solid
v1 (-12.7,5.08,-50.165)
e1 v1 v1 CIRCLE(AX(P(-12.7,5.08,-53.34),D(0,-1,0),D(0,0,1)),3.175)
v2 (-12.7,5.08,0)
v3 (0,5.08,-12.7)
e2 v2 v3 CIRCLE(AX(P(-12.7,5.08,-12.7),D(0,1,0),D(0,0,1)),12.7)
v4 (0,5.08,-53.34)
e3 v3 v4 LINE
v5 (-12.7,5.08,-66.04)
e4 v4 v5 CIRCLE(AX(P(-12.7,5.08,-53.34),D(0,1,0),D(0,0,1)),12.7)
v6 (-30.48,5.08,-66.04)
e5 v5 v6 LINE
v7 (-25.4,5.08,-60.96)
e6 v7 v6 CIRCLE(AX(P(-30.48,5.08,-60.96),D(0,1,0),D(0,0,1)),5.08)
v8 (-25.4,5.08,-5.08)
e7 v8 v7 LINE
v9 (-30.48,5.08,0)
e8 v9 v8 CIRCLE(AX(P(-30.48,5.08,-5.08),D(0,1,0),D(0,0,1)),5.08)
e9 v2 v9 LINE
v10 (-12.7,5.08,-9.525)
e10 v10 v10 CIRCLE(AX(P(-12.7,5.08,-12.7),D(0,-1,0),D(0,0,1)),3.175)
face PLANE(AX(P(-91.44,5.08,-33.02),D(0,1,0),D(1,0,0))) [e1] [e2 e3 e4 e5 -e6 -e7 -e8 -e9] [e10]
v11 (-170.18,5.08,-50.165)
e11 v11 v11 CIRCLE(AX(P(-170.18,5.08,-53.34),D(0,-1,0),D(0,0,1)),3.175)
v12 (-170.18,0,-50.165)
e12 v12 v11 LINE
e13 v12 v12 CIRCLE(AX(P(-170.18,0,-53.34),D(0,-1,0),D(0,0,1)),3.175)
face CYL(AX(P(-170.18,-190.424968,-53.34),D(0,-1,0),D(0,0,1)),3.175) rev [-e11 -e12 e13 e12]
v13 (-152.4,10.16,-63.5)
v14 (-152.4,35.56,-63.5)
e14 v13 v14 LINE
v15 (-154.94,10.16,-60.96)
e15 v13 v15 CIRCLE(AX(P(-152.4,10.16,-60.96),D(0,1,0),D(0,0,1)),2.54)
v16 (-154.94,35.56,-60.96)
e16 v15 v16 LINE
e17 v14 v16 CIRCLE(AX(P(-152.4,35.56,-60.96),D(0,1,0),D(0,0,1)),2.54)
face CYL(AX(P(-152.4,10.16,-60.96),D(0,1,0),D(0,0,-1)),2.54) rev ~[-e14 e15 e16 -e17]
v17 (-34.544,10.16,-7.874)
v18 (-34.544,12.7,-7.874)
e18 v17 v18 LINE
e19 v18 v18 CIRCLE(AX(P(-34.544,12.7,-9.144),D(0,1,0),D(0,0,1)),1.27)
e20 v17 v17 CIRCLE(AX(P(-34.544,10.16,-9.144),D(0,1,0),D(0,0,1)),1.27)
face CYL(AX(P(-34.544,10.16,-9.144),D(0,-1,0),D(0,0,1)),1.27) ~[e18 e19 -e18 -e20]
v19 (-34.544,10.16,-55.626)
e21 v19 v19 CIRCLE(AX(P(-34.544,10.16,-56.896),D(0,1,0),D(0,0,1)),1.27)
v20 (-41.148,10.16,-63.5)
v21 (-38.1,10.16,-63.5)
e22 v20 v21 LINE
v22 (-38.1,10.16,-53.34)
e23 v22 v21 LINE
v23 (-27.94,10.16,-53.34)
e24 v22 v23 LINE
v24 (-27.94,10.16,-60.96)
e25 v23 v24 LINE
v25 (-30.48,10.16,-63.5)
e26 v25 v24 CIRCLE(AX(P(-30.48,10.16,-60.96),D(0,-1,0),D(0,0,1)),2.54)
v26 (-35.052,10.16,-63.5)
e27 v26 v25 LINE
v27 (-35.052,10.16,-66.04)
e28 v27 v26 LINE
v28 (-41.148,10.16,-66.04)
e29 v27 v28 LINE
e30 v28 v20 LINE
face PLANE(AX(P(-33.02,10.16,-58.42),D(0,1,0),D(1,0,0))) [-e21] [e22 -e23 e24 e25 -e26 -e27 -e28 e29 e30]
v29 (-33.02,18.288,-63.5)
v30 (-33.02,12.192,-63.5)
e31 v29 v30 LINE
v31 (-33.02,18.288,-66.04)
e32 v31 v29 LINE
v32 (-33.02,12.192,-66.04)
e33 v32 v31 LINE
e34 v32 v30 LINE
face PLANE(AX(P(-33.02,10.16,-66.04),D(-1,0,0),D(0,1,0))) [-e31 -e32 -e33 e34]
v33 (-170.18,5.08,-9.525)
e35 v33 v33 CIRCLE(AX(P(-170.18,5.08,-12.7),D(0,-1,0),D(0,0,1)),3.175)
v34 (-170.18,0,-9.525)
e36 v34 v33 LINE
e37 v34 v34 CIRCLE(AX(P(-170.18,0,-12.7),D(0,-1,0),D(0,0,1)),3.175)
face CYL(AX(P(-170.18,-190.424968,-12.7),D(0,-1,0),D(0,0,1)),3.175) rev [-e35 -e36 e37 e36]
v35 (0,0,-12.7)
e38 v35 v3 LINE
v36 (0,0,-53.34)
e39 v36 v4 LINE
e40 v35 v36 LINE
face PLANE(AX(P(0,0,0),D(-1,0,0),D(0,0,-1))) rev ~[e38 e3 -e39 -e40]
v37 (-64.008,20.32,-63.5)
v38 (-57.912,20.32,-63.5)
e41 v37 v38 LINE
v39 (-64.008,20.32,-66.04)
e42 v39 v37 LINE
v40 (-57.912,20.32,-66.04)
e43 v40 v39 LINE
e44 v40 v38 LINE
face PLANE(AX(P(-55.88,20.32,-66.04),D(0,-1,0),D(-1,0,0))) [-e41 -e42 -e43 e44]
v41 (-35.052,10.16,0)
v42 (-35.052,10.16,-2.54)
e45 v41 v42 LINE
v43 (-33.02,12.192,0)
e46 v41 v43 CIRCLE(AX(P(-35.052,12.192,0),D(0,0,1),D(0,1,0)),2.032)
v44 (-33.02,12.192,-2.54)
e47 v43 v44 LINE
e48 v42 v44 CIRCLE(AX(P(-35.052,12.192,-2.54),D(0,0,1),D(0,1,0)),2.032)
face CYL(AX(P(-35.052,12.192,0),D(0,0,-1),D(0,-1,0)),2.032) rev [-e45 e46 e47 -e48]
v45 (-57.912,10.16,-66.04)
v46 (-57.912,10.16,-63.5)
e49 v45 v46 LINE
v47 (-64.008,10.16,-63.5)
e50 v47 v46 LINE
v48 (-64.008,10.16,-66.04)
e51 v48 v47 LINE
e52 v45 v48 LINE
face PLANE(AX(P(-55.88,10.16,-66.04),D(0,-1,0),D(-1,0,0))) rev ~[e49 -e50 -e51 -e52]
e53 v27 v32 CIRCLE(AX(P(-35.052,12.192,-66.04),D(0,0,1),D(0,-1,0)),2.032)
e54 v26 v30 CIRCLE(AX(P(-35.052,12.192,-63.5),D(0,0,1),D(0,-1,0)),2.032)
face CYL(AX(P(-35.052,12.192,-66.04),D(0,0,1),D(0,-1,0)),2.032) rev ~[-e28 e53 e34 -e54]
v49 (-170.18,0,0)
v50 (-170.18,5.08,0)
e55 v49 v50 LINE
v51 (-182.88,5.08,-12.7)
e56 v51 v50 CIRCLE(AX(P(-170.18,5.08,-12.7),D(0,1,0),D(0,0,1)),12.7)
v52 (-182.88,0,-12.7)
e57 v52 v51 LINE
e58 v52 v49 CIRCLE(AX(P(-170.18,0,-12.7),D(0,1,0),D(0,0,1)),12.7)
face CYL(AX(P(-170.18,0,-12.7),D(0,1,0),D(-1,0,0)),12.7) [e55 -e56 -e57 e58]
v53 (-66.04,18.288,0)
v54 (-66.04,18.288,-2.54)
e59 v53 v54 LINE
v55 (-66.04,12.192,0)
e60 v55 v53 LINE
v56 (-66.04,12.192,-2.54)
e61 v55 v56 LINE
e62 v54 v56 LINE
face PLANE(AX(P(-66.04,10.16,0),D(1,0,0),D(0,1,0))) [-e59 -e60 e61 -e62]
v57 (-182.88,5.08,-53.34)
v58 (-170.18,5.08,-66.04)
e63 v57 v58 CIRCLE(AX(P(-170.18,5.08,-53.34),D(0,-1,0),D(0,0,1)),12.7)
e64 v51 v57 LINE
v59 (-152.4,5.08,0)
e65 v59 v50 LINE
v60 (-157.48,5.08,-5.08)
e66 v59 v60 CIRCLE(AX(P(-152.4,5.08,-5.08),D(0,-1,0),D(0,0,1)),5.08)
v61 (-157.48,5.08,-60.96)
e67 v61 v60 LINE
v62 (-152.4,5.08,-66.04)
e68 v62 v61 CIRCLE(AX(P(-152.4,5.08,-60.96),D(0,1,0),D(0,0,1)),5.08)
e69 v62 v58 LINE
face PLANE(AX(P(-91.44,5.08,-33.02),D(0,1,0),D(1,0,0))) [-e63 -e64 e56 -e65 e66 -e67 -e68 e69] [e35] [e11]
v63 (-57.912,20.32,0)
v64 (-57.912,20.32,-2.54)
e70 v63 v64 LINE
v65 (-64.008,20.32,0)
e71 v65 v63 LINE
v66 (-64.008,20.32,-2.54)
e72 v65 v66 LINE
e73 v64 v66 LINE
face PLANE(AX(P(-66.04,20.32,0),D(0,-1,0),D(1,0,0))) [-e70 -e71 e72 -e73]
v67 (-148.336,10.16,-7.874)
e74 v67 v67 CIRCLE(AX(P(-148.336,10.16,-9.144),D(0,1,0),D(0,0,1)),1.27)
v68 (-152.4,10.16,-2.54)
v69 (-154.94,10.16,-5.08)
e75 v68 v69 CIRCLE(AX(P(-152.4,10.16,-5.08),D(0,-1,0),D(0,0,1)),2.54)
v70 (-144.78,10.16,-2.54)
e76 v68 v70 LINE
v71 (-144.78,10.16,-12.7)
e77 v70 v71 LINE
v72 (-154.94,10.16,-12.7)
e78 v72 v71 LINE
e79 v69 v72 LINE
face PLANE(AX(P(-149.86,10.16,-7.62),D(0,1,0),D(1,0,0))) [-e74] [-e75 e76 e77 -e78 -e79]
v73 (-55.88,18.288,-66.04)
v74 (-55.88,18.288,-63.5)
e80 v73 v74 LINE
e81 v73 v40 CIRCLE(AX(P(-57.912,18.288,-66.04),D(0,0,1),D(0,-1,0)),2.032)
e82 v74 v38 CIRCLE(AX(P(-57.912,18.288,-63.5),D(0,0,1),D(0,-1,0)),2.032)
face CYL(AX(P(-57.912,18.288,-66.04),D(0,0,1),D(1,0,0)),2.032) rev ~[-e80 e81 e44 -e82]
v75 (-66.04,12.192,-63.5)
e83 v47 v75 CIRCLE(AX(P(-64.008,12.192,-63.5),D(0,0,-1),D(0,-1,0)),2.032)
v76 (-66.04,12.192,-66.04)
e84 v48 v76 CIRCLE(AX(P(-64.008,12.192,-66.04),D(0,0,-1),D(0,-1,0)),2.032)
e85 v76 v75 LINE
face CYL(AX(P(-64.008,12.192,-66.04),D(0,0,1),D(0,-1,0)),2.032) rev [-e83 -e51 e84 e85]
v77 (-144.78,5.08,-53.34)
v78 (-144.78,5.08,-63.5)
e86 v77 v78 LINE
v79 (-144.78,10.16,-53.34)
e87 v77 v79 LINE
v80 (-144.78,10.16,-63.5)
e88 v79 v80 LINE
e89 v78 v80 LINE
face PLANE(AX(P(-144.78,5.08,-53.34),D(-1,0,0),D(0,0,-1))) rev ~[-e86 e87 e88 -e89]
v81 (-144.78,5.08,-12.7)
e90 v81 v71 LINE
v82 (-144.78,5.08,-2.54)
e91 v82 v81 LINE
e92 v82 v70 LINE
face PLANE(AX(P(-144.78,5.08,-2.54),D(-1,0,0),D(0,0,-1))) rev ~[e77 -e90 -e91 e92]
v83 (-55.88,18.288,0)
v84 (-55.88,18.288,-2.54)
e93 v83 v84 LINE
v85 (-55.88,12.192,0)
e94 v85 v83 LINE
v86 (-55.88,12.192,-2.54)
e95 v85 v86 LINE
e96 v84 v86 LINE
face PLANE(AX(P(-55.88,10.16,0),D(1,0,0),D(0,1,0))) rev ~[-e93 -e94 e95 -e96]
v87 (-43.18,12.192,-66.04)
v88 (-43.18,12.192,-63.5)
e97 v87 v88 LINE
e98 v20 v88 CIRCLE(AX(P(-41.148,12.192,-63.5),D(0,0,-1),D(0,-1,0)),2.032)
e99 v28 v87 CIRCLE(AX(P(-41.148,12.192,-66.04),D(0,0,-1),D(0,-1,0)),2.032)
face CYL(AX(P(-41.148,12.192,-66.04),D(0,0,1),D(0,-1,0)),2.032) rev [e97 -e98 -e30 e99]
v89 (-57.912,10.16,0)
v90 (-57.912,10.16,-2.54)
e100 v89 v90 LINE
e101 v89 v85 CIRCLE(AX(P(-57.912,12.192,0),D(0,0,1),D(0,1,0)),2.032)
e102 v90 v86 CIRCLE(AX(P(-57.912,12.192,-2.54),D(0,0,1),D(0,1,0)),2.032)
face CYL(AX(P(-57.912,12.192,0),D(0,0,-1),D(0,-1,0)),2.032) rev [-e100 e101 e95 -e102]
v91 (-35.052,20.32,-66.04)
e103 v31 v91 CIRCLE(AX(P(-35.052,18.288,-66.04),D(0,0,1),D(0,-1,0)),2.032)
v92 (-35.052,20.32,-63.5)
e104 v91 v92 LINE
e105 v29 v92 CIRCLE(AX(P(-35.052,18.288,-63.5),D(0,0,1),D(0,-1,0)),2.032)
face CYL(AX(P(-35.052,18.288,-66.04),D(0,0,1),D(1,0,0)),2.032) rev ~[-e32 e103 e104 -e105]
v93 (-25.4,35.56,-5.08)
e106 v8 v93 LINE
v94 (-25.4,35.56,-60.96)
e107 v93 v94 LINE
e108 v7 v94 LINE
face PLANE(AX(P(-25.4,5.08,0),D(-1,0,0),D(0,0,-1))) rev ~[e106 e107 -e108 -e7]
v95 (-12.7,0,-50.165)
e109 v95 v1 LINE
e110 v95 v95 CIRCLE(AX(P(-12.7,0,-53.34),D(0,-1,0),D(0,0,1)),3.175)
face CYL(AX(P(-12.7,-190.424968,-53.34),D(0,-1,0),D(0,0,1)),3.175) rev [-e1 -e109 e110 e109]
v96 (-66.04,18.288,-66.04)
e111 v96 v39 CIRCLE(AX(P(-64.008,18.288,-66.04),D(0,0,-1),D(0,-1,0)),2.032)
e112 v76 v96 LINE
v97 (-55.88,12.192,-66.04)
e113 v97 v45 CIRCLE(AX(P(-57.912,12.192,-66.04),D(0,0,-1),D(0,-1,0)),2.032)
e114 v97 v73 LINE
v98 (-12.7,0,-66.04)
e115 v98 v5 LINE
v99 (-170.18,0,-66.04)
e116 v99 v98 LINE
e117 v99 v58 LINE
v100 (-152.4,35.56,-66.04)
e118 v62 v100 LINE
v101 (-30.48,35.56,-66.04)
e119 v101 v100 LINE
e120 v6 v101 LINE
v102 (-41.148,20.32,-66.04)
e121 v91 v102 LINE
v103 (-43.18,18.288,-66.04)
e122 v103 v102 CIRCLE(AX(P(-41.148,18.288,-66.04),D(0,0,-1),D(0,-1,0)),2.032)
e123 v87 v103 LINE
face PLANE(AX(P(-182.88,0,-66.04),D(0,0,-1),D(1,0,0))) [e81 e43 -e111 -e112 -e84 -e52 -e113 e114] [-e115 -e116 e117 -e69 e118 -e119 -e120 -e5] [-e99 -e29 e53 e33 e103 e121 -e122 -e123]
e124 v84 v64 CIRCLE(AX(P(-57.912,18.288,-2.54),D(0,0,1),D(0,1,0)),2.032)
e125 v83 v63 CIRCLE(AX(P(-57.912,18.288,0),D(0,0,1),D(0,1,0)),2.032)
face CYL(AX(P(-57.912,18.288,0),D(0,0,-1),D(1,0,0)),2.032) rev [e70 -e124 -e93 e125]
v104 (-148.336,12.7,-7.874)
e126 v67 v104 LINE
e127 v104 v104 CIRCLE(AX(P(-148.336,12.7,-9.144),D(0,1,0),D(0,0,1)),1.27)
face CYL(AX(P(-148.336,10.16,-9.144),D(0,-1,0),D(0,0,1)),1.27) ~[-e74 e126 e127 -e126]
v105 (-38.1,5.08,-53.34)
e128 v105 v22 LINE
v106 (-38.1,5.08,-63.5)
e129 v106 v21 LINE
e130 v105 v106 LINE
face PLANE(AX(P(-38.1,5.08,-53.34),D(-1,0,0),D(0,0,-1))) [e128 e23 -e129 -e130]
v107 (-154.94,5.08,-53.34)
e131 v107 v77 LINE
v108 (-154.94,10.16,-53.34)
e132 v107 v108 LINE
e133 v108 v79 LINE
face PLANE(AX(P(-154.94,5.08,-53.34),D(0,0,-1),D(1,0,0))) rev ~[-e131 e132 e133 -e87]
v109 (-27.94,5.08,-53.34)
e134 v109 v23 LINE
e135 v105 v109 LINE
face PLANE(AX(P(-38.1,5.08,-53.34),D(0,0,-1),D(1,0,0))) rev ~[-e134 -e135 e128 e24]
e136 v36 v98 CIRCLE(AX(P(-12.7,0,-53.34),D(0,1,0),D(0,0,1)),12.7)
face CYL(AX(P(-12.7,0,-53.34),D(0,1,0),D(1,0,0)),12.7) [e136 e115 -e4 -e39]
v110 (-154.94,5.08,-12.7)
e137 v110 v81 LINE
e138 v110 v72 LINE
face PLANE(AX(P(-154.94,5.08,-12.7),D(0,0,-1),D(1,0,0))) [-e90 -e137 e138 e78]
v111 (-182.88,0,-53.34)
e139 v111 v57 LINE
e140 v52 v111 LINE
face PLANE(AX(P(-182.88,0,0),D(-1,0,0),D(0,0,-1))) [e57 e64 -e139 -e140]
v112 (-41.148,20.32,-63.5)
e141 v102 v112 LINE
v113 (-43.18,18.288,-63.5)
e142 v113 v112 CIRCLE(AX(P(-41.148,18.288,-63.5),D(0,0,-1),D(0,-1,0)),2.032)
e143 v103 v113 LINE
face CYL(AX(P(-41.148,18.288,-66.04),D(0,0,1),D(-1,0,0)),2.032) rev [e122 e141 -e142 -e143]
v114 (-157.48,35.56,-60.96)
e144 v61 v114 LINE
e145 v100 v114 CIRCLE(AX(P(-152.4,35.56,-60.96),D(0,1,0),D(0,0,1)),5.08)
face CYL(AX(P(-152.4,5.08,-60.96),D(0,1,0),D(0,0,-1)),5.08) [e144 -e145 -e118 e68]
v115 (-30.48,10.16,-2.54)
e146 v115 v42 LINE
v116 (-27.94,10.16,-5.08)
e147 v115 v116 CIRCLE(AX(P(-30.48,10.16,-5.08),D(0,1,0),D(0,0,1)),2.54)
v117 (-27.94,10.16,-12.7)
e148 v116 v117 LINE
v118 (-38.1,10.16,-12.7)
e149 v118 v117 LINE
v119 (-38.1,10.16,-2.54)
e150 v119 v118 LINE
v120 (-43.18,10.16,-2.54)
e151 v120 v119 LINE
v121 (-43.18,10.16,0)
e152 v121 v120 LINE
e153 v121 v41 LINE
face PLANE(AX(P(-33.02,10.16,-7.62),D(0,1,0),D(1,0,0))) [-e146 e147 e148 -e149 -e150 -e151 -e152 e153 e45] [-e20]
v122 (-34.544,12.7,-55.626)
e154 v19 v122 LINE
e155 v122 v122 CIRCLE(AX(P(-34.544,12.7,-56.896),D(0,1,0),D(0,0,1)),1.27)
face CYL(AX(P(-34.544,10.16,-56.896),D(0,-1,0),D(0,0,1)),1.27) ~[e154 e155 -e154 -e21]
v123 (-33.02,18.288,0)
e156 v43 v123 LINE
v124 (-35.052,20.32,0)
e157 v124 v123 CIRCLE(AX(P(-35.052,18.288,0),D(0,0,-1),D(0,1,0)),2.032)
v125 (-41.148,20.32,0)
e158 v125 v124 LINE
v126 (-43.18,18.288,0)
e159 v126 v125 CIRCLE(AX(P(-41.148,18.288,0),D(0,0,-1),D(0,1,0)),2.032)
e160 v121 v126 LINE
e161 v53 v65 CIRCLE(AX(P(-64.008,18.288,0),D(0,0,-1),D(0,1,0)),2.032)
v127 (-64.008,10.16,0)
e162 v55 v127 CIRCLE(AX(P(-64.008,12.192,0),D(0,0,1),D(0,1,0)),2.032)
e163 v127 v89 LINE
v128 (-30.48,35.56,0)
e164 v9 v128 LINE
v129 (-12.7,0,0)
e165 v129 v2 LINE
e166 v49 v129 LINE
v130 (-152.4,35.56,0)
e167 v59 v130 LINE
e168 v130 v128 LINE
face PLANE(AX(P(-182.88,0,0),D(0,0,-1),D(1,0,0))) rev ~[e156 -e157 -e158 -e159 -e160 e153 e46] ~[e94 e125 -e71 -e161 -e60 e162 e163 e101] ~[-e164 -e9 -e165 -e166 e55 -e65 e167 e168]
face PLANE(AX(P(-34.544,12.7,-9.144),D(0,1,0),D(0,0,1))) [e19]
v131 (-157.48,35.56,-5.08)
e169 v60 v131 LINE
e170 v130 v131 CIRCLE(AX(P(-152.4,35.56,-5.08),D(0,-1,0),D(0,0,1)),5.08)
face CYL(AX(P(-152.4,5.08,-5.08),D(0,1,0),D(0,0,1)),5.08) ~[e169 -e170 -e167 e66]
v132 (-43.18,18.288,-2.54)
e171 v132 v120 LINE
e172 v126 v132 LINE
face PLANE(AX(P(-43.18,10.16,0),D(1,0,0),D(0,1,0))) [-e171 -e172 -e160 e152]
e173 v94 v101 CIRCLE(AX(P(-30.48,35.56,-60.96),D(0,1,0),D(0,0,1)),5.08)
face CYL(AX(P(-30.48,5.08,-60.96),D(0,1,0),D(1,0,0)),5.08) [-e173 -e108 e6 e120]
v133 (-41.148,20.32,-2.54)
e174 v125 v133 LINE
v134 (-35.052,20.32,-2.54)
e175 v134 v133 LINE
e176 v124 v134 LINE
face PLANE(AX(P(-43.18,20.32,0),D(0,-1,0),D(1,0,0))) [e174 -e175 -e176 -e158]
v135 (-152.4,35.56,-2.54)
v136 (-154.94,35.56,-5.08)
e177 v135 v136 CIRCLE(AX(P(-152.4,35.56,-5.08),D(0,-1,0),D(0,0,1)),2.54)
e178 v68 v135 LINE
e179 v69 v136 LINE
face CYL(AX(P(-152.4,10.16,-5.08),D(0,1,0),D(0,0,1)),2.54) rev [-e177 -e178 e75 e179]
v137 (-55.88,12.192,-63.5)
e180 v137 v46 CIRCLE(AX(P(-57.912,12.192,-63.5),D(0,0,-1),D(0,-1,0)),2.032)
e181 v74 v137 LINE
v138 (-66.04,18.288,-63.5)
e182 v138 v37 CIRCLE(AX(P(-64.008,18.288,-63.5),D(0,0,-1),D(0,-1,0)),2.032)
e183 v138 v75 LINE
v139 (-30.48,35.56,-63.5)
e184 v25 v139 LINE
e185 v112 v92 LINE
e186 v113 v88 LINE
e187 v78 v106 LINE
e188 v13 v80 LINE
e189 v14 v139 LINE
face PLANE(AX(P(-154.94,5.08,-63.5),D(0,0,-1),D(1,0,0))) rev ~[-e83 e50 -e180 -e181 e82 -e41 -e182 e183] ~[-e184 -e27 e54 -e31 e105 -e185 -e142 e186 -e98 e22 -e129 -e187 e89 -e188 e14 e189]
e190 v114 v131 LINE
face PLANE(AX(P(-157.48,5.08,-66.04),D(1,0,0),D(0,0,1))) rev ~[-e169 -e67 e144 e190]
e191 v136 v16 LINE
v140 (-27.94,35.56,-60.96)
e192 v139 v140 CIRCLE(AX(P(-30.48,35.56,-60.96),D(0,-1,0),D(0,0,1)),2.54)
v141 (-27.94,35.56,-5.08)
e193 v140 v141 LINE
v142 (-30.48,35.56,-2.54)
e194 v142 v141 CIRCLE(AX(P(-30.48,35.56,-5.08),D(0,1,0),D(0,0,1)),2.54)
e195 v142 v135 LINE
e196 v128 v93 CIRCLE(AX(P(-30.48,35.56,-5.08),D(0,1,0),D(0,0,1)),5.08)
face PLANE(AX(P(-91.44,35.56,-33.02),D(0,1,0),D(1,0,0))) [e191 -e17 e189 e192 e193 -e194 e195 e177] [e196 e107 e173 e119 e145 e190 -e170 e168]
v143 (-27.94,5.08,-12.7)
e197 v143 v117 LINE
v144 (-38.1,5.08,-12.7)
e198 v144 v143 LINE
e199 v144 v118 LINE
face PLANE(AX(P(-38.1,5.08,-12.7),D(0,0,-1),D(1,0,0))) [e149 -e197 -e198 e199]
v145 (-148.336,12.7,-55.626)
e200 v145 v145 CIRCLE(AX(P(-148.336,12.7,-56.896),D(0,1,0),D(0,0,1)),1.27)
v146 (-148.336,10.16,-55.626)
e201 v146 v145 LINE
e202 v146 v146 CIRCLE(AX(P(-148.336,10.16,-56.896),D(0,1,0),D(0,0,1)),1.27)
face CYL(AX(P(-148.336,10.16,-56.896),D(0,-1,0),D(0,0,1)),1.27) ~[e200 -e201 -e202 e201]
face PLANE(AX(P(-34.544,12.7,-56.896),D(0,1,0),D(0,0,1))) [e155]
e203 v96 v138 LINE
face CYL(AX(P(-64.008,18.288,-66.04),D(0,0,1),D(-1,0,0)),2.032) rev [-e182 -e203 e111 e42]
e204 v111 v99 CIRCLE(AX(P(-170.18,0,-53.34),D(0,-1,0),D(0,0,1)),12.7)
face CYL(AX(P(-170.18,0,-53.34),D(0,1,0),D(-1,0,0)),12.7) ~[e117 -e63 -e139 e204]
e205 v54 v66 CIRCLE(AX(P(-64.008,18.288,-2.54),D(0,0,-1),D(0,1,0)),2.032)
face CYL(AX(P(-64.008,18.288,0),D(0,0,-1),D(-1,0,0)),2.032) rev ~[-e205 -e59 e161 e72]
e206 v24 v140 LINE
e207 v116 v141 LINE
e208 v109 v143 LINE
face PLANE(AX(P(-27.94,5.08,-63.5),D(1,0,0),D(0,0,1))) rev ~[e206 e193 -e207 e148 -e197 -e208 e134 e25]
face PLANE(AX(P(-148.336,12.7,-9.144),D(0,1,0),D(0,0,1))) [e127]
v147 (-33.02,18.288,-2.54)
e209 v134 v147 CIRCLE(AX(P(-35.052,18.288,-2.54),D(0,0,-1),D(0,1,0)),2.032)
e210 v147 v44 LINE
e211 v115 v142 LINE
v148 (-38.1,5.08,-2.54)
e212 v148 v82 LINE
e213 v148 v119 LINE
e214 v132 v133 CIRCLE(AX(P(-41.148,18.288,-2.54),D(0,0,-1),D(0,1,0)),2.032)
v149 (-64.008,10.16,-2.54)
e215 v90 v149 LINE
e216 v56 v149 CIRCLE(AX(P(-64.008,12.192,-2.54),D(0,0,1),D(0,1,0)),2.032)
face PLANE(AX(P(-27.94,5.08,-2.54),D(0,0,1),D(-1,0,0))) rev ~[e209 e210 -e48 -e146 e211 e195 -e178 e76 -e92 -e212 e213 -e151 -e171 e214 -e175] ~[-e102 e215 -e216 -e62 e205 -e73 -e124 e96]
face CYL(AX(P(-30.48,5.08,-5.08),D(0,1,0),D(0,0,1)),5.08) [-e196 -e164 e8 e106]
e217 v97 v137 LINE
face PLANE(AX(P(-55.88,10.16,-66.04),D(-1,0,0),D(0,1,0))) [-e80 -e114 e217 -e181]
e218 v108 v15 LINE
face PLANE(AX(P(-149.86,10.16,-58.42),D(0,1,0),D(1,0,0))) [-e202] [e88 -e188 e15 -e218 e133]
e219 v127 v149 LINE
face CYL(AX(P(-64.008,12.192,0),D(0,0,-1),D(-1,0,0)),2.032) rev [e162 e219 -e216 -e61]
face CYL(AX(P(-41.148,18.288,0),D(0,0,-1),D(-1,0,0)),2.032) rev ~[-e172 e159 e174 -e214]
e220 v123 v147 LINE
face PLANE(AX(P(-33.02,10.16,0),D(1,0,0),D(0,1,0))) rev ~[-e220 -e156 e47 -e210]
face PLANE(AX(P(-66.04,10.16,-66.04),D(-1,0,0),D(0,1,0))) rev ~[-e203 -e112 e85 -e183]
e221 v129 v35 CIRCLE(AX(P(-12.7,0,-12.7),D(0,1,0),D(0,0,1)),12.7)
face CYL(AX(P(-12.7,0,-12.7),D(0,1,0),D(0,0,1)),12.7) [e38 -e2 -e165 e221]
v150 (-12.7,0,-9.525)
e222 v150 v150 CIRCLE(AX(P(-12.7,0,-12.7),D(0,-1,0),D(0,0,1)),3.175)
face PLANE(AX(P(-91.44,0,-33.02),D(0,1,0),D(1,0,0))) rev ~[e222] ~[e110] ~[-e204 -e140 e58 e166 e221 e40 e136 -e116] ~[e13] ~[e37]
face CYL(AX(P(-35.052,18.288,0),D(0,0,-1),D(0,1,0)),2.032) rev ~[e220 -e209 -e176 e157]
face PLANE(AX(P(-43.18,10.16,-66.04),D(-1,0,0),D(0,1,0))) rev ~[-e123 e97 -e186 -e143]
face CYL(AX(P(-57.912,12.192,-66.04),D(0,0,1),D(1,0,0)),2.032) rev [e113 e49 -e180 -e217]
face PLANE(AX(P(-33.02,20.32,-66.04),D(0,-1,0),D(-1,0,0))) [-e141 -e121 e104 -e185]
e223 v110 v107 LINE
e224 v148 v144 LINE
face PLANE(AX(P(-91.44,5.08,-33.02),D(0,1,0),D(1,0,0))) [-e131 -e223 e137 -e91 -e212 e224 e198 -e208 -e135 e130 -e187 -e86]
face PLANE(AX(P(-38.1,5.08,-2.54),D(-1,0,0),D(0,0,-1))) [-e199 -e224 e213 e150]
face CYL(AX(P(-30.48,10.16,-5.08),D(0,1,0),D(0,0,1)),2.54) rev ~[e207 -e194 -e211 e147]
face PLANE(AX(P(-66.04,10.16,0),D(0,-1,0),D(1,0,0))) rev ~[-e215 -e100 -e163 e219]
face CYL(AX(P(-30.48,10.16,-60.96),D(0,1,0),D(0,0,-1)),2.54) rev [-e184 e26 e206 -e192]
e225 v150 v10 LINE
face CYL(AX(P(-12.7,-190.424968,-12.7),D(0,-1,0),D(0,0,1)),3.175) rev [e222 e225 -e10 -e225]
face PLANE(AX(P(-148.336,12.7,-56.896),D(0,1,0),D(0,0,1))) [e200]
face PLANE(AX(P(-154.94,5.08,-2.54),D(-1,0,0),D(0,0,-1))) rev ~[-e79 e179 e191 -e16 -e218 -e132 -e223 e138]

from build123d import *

# Parameters (mm, degrees)
SKETCH1_W                      = 182.88
SKETCH1_H                      = 66.04
BOSS_EXTRUDE2_DEPTH            = 5.08
FILLET2_R                      = 12.7
CUT_EXTRUDE1_DEPTH             = 195.504967546
CUT_EXTRUDE1_DEPTH_BACK        = 195.504967546
SKETCH3_R                      = 3.175
BOSS_EXTRUDE6_DEPTH            = 30.48
SKETCH7_W                      = 10.16
SKETCH7_H                      = 10.16
BOSS_EXTRUDE8_DEPTH            = 5.08
SKETCH10_R                     = 1.27
BOSS_EXTRUDE10_DEPTH           = 2.54
CUT_EXTRUDE4_REACH             = 199.664
SKETCH12_W                     = 10.16
SKETCH12_H                     = 10.16
CUT_EXTRUDE4_DIRECTION_2_DEPTH = 198.663576817
CUT_EXTRUDE5_REACH             = 199.664
SKETCH14_W                     = 10.16
SKETCH14_H                     = 10.16
FILLET5_R                      = 2.032
FILLET6_R                      = 5.08
FILLET7_R                      = 2.54


with BuildPart() as part:
    # Sketch1 → Boss-Extrude2 (new body)
    with BuildSketch(Plane(origin=(0, 0, 0), x_dir=(1, 0, 0), z_dir=(0, 1, 0))):
        with Locations((-91.44, 33.02)):
            Rectangle(SKETCH1_W, SKETCH1_H)
    extrude(amount=BOSS_EXTRUDE2_DEPTH)

    # Fillet2
    fillet2_edges = [part.edges().sort_by_distance(p)[0] for p in [
        (0, 2.54, 0),
        (-182.88, 2.54, 0),
        (-182.88, 2.54, -66.04),
        (0, 2.54, -66.04),
    ]]
    fillet(fillet2_edges, radius=FILLET2_R)

    # Sketch3 → Cut-Extrude1 (cut, two sides: drawn at the far end of the back side and taken through both)
    with BuildSketch(Plane(origin=(0, 5.08, 0), x_dir=(1, 0, 0), z_dir=(0, 1, 0)).offset(-CUT_EXTRUDE1_DEPTH_BACK)):
        with Locations(Location((-12.7, 12.7, 0), (0, 0, 270))):
            Circle(SKETCH3_R)
        with Locations(Location((-12.7, 53.34, 0), (0, 0, 270))):
            Circle(SKETCH3_R)
        with Locations(Location((-170.18, 53.34, 0), (0, 0, 270))):
            Circle(SKETCH3_R)
        with Locations(Location((-170.18, 12.7, 0), (0, 0, 270))):
            Circle(SKETCH3_R)
    extrude(amount=CUT_EXTRUDE1_DEPTH + CUT_EXTRUDE1_DEPTH_BACK, mode=Mode.SUBTRACT)

    # Sketch4 → Boss-Extrude6 (add)
    with BuildSketch(Plane(origin=(0, 5.08, 0), x_dir=(1, 0, 0), z_dir=(0, 1, 0))):
        Polygon((-157.48, 0), (-30.606358486, 0), (-25.4, 0), (-25.4, 66.04), (-157.48, 66.04), align=None)
        Polygon((-27.94, 55.88), (-27.94, 10.16), (-27.94, 2.54), (-35.56, 2.54), (-147.32, 2.54), (-154.94, 2.54), (-154.94, 10.16), (-154.94, 55.88), (-154.94, 63.5), (-147.32, 63.5), (-35.56, 63.5), (-27.94, 63.5), align=None, mode=Mode.SUBTRACT)
    extrude(amount=BOSS_EXTRUDE6_DEPTH)

    # Sketch7 → Boss-Extrude8 (add)
    with BuildSketch(Plane(origin=(0, 5.08, 0), x_dir=(1, 0, 0), z_dir=(0, 1, 0))):
        with Locations((-33.02, 7.62)):
            Rectangle(SKETCH7_W, SKETCH7_H)
        with Locations((-149.86, 7.62)):
            Rectangle(SKETCH7_W, SKETCH7_H)
        with Locations((-149.86, 58.42)):
            Rectangle(SKETCH7_W, SKETCH7_H)
        with Locations((-33.02, 58.42)):
            Rectangle(SKETCH7_W, SKETCH7_H)
    extrude(amount=BOSS_EXTRUDE8_DEPTH)

    # Sketch10 → Boss-Extrude10 (add)
    with BuildSketch(Plane(origin=(0, 10.16, 0), x_dir=(1, 0, 0), z_dir=(0, 1, 0))):
        with Locations(Location((-34.544, 9.144, 0), (0, 0, 270))):
            Circle(SKETCH10_R)
        with Locations(Location((-148.336, 9.144, 0), (0, 0, 270))):
            Circle(SKETCH10_R)
        with Locations(Location((-148.336, 56.896, 0), (0, 0, 270))):
            Circle(SKETCH10_R)
        with Locations(Location((-34.544, 56.896, 0), (0, 0, 270))):
            Circle(SKETCH10_R)
    extrude(amount=BOSS_EXTRUDE10_DEPTH)

    # Sketch12 → Cut-Extrude4 (cut, up to next)
    with BuildSketch(Plane(origin=(0, 0, -66.04), x_dir=(-1, 0, 0), z_dir=(0, 0, -1)), mode=Mode.PRIVATE) as cut_extrude4_sk1:
        with Locations((38.1, 15.24)):
            Rectangle(SKETCH12_W, SKETCH12_H)
    cut_extrude4_tool1 = extrude(cut_extrude4_sk1.sketch, amount=-CUT_EXTRUDE4_REACH, mode=Mode.PRIVATE) & part.part
    # Sketch12 → Cut-Extrude4 (cut, up to next)
    with BuildSketch(Plane(origin=(0, 0, -66.04), x_dir=(-1, 0, 0), z_dir=(0, 0, -1)), mode=Mode.PRIVATE) as cut_extrude4_sk2:
        with Locations((60.96, 15.24)):
            Rectangle(SKETCH12_W, SKETCH12_H)
    cut_extrude4_tool2 = extrude(cut_extrude4_sk2.sketch, amount=-CUT_EXTRUDE4_REACH, mode=Mode.PRIVATE) & part.part
    add(cut_extrude4_tool1.solids().sort_by_distance((-38.1, 15.24, -66.04))[0], mode=Mode.SUBTRACT)
    add(cut_extrude4_tool2.solids().sort_by_distance((-60.96, 15.24, -66.04))[0], mode=Mode.SUBTRACT)

    # Sketch12 → Cut-Extrude4 direction 2 (cut)
    with BuildSketch(Plane(origin=(0, 0, -66.04), x_dir=(-1, 0, 0), z_dir=(0, 0, -1))):
        with Locations((38.1, 15.24)):
            Rectangle(SKETCH12_W, SKETCH12_H)
        with Locations((60.96, 15.24)):
            Rectangle(SKETCH12_W, SKETCH12_H)
    extrude(amount=CUT_EXTRUDE4_DIRECTION_2_DEPTH, mode=Mode.SUBTRACT)

    # Sketch14 → Cut-Extrude5 (cut, up to next)
    with BuildSketch(Plane.XY, mode=Mode.PRIVATE) as cut_extrude5_sk1:
        with Locations((-38.1, 15.24)):
            Rectangle(SKETCH14_W, SKETCH14_H)
    cut_extrude5_tool1 = extrude(cut_extrude5_sk1.sketch, amount=-CUT_EXTRUDE5_REACH, mode=Mode.PRIVATE) & part.part
    # Sketch14 → Cut-Extrude5 (cut, up to next)
    with BuildSketch(Plane.XY, mode=Mode.PRIVATE) as cut_extrude5_sk2:
        with Locations((-60.96, 15.24)):
            Rectangle(SKETCH14_W, SKETCH14_H)
    cut_extrude5_tool2 = extrude(cut_extrude5_sk2.sketch, amount=-CUT_EXTRUDE5_REACH, mode=Mode.PRIVATE) & part.part
    add(cut_extrude5_tool1.solids().sort_by_distance((-38.1, 15.24, 0))[0], mode=Mode.SUBTRACT)
    add(cut_extrude5_tool2.solids().sort_by_distance((-60.96, 15.24, 0))[0], mode=Mode.SUBTRACT)

    # Fillet5
    fillet5_edges = [part.edges().sort_by_distance(p)[0] for p in [
        (-33.02, 20.32, -64.77),
        (-33.02, 10.16, -64.77),
        (-43.18, 10.16, -64.77),
        (-43.18, 20.32, -64.77),
        (-55.88, 20.32, -64.77),
        (-55.88, 10.16, -64.77),
        (-66.04, 10.16, -64.77),
        (-66.04, 20.32, -64.77),
        (-43.18, 20.32, -1.27),
        (-33.02, 20.32, -1.27),
        (-33.02, 10.16, -1.27),
        (-66.04, 10.16, -1.27),
        (-66.04, 20.32, -1.27),
        (-55.88, 20.32, -1.27),
        (-55.88, 10.16, -1.27),
    ]]
    fillet(fillet5_edges, radius=FILLET5_R)

    # Fillet6
    fillet6_edges = [part.edges().sort_by_distance(p)[0] for p in [
        (-157.48, 20.32, -66.04),
        (-157.48, 20.32, 0),
        (-25.4, 20.32, 0),
        (-25.4, 20.32, -66.04),
    ]]
    fillet(fillet6_edges, radius=FILLET6_R)

    # Fillet7
    fillet7_edges = [part.edges().sort_by_distance(p)[0] for p in [
        (-27.94, 22.86, -2.54),
        (-154.94, 22.86, -2.54),
        (-154.94, 22.86, -63.5),
        (-27.94, 22.86, -63.5),
    ]]
    fillet(fillet7_edges, radius=FILLET7_R)


solid = part.part
